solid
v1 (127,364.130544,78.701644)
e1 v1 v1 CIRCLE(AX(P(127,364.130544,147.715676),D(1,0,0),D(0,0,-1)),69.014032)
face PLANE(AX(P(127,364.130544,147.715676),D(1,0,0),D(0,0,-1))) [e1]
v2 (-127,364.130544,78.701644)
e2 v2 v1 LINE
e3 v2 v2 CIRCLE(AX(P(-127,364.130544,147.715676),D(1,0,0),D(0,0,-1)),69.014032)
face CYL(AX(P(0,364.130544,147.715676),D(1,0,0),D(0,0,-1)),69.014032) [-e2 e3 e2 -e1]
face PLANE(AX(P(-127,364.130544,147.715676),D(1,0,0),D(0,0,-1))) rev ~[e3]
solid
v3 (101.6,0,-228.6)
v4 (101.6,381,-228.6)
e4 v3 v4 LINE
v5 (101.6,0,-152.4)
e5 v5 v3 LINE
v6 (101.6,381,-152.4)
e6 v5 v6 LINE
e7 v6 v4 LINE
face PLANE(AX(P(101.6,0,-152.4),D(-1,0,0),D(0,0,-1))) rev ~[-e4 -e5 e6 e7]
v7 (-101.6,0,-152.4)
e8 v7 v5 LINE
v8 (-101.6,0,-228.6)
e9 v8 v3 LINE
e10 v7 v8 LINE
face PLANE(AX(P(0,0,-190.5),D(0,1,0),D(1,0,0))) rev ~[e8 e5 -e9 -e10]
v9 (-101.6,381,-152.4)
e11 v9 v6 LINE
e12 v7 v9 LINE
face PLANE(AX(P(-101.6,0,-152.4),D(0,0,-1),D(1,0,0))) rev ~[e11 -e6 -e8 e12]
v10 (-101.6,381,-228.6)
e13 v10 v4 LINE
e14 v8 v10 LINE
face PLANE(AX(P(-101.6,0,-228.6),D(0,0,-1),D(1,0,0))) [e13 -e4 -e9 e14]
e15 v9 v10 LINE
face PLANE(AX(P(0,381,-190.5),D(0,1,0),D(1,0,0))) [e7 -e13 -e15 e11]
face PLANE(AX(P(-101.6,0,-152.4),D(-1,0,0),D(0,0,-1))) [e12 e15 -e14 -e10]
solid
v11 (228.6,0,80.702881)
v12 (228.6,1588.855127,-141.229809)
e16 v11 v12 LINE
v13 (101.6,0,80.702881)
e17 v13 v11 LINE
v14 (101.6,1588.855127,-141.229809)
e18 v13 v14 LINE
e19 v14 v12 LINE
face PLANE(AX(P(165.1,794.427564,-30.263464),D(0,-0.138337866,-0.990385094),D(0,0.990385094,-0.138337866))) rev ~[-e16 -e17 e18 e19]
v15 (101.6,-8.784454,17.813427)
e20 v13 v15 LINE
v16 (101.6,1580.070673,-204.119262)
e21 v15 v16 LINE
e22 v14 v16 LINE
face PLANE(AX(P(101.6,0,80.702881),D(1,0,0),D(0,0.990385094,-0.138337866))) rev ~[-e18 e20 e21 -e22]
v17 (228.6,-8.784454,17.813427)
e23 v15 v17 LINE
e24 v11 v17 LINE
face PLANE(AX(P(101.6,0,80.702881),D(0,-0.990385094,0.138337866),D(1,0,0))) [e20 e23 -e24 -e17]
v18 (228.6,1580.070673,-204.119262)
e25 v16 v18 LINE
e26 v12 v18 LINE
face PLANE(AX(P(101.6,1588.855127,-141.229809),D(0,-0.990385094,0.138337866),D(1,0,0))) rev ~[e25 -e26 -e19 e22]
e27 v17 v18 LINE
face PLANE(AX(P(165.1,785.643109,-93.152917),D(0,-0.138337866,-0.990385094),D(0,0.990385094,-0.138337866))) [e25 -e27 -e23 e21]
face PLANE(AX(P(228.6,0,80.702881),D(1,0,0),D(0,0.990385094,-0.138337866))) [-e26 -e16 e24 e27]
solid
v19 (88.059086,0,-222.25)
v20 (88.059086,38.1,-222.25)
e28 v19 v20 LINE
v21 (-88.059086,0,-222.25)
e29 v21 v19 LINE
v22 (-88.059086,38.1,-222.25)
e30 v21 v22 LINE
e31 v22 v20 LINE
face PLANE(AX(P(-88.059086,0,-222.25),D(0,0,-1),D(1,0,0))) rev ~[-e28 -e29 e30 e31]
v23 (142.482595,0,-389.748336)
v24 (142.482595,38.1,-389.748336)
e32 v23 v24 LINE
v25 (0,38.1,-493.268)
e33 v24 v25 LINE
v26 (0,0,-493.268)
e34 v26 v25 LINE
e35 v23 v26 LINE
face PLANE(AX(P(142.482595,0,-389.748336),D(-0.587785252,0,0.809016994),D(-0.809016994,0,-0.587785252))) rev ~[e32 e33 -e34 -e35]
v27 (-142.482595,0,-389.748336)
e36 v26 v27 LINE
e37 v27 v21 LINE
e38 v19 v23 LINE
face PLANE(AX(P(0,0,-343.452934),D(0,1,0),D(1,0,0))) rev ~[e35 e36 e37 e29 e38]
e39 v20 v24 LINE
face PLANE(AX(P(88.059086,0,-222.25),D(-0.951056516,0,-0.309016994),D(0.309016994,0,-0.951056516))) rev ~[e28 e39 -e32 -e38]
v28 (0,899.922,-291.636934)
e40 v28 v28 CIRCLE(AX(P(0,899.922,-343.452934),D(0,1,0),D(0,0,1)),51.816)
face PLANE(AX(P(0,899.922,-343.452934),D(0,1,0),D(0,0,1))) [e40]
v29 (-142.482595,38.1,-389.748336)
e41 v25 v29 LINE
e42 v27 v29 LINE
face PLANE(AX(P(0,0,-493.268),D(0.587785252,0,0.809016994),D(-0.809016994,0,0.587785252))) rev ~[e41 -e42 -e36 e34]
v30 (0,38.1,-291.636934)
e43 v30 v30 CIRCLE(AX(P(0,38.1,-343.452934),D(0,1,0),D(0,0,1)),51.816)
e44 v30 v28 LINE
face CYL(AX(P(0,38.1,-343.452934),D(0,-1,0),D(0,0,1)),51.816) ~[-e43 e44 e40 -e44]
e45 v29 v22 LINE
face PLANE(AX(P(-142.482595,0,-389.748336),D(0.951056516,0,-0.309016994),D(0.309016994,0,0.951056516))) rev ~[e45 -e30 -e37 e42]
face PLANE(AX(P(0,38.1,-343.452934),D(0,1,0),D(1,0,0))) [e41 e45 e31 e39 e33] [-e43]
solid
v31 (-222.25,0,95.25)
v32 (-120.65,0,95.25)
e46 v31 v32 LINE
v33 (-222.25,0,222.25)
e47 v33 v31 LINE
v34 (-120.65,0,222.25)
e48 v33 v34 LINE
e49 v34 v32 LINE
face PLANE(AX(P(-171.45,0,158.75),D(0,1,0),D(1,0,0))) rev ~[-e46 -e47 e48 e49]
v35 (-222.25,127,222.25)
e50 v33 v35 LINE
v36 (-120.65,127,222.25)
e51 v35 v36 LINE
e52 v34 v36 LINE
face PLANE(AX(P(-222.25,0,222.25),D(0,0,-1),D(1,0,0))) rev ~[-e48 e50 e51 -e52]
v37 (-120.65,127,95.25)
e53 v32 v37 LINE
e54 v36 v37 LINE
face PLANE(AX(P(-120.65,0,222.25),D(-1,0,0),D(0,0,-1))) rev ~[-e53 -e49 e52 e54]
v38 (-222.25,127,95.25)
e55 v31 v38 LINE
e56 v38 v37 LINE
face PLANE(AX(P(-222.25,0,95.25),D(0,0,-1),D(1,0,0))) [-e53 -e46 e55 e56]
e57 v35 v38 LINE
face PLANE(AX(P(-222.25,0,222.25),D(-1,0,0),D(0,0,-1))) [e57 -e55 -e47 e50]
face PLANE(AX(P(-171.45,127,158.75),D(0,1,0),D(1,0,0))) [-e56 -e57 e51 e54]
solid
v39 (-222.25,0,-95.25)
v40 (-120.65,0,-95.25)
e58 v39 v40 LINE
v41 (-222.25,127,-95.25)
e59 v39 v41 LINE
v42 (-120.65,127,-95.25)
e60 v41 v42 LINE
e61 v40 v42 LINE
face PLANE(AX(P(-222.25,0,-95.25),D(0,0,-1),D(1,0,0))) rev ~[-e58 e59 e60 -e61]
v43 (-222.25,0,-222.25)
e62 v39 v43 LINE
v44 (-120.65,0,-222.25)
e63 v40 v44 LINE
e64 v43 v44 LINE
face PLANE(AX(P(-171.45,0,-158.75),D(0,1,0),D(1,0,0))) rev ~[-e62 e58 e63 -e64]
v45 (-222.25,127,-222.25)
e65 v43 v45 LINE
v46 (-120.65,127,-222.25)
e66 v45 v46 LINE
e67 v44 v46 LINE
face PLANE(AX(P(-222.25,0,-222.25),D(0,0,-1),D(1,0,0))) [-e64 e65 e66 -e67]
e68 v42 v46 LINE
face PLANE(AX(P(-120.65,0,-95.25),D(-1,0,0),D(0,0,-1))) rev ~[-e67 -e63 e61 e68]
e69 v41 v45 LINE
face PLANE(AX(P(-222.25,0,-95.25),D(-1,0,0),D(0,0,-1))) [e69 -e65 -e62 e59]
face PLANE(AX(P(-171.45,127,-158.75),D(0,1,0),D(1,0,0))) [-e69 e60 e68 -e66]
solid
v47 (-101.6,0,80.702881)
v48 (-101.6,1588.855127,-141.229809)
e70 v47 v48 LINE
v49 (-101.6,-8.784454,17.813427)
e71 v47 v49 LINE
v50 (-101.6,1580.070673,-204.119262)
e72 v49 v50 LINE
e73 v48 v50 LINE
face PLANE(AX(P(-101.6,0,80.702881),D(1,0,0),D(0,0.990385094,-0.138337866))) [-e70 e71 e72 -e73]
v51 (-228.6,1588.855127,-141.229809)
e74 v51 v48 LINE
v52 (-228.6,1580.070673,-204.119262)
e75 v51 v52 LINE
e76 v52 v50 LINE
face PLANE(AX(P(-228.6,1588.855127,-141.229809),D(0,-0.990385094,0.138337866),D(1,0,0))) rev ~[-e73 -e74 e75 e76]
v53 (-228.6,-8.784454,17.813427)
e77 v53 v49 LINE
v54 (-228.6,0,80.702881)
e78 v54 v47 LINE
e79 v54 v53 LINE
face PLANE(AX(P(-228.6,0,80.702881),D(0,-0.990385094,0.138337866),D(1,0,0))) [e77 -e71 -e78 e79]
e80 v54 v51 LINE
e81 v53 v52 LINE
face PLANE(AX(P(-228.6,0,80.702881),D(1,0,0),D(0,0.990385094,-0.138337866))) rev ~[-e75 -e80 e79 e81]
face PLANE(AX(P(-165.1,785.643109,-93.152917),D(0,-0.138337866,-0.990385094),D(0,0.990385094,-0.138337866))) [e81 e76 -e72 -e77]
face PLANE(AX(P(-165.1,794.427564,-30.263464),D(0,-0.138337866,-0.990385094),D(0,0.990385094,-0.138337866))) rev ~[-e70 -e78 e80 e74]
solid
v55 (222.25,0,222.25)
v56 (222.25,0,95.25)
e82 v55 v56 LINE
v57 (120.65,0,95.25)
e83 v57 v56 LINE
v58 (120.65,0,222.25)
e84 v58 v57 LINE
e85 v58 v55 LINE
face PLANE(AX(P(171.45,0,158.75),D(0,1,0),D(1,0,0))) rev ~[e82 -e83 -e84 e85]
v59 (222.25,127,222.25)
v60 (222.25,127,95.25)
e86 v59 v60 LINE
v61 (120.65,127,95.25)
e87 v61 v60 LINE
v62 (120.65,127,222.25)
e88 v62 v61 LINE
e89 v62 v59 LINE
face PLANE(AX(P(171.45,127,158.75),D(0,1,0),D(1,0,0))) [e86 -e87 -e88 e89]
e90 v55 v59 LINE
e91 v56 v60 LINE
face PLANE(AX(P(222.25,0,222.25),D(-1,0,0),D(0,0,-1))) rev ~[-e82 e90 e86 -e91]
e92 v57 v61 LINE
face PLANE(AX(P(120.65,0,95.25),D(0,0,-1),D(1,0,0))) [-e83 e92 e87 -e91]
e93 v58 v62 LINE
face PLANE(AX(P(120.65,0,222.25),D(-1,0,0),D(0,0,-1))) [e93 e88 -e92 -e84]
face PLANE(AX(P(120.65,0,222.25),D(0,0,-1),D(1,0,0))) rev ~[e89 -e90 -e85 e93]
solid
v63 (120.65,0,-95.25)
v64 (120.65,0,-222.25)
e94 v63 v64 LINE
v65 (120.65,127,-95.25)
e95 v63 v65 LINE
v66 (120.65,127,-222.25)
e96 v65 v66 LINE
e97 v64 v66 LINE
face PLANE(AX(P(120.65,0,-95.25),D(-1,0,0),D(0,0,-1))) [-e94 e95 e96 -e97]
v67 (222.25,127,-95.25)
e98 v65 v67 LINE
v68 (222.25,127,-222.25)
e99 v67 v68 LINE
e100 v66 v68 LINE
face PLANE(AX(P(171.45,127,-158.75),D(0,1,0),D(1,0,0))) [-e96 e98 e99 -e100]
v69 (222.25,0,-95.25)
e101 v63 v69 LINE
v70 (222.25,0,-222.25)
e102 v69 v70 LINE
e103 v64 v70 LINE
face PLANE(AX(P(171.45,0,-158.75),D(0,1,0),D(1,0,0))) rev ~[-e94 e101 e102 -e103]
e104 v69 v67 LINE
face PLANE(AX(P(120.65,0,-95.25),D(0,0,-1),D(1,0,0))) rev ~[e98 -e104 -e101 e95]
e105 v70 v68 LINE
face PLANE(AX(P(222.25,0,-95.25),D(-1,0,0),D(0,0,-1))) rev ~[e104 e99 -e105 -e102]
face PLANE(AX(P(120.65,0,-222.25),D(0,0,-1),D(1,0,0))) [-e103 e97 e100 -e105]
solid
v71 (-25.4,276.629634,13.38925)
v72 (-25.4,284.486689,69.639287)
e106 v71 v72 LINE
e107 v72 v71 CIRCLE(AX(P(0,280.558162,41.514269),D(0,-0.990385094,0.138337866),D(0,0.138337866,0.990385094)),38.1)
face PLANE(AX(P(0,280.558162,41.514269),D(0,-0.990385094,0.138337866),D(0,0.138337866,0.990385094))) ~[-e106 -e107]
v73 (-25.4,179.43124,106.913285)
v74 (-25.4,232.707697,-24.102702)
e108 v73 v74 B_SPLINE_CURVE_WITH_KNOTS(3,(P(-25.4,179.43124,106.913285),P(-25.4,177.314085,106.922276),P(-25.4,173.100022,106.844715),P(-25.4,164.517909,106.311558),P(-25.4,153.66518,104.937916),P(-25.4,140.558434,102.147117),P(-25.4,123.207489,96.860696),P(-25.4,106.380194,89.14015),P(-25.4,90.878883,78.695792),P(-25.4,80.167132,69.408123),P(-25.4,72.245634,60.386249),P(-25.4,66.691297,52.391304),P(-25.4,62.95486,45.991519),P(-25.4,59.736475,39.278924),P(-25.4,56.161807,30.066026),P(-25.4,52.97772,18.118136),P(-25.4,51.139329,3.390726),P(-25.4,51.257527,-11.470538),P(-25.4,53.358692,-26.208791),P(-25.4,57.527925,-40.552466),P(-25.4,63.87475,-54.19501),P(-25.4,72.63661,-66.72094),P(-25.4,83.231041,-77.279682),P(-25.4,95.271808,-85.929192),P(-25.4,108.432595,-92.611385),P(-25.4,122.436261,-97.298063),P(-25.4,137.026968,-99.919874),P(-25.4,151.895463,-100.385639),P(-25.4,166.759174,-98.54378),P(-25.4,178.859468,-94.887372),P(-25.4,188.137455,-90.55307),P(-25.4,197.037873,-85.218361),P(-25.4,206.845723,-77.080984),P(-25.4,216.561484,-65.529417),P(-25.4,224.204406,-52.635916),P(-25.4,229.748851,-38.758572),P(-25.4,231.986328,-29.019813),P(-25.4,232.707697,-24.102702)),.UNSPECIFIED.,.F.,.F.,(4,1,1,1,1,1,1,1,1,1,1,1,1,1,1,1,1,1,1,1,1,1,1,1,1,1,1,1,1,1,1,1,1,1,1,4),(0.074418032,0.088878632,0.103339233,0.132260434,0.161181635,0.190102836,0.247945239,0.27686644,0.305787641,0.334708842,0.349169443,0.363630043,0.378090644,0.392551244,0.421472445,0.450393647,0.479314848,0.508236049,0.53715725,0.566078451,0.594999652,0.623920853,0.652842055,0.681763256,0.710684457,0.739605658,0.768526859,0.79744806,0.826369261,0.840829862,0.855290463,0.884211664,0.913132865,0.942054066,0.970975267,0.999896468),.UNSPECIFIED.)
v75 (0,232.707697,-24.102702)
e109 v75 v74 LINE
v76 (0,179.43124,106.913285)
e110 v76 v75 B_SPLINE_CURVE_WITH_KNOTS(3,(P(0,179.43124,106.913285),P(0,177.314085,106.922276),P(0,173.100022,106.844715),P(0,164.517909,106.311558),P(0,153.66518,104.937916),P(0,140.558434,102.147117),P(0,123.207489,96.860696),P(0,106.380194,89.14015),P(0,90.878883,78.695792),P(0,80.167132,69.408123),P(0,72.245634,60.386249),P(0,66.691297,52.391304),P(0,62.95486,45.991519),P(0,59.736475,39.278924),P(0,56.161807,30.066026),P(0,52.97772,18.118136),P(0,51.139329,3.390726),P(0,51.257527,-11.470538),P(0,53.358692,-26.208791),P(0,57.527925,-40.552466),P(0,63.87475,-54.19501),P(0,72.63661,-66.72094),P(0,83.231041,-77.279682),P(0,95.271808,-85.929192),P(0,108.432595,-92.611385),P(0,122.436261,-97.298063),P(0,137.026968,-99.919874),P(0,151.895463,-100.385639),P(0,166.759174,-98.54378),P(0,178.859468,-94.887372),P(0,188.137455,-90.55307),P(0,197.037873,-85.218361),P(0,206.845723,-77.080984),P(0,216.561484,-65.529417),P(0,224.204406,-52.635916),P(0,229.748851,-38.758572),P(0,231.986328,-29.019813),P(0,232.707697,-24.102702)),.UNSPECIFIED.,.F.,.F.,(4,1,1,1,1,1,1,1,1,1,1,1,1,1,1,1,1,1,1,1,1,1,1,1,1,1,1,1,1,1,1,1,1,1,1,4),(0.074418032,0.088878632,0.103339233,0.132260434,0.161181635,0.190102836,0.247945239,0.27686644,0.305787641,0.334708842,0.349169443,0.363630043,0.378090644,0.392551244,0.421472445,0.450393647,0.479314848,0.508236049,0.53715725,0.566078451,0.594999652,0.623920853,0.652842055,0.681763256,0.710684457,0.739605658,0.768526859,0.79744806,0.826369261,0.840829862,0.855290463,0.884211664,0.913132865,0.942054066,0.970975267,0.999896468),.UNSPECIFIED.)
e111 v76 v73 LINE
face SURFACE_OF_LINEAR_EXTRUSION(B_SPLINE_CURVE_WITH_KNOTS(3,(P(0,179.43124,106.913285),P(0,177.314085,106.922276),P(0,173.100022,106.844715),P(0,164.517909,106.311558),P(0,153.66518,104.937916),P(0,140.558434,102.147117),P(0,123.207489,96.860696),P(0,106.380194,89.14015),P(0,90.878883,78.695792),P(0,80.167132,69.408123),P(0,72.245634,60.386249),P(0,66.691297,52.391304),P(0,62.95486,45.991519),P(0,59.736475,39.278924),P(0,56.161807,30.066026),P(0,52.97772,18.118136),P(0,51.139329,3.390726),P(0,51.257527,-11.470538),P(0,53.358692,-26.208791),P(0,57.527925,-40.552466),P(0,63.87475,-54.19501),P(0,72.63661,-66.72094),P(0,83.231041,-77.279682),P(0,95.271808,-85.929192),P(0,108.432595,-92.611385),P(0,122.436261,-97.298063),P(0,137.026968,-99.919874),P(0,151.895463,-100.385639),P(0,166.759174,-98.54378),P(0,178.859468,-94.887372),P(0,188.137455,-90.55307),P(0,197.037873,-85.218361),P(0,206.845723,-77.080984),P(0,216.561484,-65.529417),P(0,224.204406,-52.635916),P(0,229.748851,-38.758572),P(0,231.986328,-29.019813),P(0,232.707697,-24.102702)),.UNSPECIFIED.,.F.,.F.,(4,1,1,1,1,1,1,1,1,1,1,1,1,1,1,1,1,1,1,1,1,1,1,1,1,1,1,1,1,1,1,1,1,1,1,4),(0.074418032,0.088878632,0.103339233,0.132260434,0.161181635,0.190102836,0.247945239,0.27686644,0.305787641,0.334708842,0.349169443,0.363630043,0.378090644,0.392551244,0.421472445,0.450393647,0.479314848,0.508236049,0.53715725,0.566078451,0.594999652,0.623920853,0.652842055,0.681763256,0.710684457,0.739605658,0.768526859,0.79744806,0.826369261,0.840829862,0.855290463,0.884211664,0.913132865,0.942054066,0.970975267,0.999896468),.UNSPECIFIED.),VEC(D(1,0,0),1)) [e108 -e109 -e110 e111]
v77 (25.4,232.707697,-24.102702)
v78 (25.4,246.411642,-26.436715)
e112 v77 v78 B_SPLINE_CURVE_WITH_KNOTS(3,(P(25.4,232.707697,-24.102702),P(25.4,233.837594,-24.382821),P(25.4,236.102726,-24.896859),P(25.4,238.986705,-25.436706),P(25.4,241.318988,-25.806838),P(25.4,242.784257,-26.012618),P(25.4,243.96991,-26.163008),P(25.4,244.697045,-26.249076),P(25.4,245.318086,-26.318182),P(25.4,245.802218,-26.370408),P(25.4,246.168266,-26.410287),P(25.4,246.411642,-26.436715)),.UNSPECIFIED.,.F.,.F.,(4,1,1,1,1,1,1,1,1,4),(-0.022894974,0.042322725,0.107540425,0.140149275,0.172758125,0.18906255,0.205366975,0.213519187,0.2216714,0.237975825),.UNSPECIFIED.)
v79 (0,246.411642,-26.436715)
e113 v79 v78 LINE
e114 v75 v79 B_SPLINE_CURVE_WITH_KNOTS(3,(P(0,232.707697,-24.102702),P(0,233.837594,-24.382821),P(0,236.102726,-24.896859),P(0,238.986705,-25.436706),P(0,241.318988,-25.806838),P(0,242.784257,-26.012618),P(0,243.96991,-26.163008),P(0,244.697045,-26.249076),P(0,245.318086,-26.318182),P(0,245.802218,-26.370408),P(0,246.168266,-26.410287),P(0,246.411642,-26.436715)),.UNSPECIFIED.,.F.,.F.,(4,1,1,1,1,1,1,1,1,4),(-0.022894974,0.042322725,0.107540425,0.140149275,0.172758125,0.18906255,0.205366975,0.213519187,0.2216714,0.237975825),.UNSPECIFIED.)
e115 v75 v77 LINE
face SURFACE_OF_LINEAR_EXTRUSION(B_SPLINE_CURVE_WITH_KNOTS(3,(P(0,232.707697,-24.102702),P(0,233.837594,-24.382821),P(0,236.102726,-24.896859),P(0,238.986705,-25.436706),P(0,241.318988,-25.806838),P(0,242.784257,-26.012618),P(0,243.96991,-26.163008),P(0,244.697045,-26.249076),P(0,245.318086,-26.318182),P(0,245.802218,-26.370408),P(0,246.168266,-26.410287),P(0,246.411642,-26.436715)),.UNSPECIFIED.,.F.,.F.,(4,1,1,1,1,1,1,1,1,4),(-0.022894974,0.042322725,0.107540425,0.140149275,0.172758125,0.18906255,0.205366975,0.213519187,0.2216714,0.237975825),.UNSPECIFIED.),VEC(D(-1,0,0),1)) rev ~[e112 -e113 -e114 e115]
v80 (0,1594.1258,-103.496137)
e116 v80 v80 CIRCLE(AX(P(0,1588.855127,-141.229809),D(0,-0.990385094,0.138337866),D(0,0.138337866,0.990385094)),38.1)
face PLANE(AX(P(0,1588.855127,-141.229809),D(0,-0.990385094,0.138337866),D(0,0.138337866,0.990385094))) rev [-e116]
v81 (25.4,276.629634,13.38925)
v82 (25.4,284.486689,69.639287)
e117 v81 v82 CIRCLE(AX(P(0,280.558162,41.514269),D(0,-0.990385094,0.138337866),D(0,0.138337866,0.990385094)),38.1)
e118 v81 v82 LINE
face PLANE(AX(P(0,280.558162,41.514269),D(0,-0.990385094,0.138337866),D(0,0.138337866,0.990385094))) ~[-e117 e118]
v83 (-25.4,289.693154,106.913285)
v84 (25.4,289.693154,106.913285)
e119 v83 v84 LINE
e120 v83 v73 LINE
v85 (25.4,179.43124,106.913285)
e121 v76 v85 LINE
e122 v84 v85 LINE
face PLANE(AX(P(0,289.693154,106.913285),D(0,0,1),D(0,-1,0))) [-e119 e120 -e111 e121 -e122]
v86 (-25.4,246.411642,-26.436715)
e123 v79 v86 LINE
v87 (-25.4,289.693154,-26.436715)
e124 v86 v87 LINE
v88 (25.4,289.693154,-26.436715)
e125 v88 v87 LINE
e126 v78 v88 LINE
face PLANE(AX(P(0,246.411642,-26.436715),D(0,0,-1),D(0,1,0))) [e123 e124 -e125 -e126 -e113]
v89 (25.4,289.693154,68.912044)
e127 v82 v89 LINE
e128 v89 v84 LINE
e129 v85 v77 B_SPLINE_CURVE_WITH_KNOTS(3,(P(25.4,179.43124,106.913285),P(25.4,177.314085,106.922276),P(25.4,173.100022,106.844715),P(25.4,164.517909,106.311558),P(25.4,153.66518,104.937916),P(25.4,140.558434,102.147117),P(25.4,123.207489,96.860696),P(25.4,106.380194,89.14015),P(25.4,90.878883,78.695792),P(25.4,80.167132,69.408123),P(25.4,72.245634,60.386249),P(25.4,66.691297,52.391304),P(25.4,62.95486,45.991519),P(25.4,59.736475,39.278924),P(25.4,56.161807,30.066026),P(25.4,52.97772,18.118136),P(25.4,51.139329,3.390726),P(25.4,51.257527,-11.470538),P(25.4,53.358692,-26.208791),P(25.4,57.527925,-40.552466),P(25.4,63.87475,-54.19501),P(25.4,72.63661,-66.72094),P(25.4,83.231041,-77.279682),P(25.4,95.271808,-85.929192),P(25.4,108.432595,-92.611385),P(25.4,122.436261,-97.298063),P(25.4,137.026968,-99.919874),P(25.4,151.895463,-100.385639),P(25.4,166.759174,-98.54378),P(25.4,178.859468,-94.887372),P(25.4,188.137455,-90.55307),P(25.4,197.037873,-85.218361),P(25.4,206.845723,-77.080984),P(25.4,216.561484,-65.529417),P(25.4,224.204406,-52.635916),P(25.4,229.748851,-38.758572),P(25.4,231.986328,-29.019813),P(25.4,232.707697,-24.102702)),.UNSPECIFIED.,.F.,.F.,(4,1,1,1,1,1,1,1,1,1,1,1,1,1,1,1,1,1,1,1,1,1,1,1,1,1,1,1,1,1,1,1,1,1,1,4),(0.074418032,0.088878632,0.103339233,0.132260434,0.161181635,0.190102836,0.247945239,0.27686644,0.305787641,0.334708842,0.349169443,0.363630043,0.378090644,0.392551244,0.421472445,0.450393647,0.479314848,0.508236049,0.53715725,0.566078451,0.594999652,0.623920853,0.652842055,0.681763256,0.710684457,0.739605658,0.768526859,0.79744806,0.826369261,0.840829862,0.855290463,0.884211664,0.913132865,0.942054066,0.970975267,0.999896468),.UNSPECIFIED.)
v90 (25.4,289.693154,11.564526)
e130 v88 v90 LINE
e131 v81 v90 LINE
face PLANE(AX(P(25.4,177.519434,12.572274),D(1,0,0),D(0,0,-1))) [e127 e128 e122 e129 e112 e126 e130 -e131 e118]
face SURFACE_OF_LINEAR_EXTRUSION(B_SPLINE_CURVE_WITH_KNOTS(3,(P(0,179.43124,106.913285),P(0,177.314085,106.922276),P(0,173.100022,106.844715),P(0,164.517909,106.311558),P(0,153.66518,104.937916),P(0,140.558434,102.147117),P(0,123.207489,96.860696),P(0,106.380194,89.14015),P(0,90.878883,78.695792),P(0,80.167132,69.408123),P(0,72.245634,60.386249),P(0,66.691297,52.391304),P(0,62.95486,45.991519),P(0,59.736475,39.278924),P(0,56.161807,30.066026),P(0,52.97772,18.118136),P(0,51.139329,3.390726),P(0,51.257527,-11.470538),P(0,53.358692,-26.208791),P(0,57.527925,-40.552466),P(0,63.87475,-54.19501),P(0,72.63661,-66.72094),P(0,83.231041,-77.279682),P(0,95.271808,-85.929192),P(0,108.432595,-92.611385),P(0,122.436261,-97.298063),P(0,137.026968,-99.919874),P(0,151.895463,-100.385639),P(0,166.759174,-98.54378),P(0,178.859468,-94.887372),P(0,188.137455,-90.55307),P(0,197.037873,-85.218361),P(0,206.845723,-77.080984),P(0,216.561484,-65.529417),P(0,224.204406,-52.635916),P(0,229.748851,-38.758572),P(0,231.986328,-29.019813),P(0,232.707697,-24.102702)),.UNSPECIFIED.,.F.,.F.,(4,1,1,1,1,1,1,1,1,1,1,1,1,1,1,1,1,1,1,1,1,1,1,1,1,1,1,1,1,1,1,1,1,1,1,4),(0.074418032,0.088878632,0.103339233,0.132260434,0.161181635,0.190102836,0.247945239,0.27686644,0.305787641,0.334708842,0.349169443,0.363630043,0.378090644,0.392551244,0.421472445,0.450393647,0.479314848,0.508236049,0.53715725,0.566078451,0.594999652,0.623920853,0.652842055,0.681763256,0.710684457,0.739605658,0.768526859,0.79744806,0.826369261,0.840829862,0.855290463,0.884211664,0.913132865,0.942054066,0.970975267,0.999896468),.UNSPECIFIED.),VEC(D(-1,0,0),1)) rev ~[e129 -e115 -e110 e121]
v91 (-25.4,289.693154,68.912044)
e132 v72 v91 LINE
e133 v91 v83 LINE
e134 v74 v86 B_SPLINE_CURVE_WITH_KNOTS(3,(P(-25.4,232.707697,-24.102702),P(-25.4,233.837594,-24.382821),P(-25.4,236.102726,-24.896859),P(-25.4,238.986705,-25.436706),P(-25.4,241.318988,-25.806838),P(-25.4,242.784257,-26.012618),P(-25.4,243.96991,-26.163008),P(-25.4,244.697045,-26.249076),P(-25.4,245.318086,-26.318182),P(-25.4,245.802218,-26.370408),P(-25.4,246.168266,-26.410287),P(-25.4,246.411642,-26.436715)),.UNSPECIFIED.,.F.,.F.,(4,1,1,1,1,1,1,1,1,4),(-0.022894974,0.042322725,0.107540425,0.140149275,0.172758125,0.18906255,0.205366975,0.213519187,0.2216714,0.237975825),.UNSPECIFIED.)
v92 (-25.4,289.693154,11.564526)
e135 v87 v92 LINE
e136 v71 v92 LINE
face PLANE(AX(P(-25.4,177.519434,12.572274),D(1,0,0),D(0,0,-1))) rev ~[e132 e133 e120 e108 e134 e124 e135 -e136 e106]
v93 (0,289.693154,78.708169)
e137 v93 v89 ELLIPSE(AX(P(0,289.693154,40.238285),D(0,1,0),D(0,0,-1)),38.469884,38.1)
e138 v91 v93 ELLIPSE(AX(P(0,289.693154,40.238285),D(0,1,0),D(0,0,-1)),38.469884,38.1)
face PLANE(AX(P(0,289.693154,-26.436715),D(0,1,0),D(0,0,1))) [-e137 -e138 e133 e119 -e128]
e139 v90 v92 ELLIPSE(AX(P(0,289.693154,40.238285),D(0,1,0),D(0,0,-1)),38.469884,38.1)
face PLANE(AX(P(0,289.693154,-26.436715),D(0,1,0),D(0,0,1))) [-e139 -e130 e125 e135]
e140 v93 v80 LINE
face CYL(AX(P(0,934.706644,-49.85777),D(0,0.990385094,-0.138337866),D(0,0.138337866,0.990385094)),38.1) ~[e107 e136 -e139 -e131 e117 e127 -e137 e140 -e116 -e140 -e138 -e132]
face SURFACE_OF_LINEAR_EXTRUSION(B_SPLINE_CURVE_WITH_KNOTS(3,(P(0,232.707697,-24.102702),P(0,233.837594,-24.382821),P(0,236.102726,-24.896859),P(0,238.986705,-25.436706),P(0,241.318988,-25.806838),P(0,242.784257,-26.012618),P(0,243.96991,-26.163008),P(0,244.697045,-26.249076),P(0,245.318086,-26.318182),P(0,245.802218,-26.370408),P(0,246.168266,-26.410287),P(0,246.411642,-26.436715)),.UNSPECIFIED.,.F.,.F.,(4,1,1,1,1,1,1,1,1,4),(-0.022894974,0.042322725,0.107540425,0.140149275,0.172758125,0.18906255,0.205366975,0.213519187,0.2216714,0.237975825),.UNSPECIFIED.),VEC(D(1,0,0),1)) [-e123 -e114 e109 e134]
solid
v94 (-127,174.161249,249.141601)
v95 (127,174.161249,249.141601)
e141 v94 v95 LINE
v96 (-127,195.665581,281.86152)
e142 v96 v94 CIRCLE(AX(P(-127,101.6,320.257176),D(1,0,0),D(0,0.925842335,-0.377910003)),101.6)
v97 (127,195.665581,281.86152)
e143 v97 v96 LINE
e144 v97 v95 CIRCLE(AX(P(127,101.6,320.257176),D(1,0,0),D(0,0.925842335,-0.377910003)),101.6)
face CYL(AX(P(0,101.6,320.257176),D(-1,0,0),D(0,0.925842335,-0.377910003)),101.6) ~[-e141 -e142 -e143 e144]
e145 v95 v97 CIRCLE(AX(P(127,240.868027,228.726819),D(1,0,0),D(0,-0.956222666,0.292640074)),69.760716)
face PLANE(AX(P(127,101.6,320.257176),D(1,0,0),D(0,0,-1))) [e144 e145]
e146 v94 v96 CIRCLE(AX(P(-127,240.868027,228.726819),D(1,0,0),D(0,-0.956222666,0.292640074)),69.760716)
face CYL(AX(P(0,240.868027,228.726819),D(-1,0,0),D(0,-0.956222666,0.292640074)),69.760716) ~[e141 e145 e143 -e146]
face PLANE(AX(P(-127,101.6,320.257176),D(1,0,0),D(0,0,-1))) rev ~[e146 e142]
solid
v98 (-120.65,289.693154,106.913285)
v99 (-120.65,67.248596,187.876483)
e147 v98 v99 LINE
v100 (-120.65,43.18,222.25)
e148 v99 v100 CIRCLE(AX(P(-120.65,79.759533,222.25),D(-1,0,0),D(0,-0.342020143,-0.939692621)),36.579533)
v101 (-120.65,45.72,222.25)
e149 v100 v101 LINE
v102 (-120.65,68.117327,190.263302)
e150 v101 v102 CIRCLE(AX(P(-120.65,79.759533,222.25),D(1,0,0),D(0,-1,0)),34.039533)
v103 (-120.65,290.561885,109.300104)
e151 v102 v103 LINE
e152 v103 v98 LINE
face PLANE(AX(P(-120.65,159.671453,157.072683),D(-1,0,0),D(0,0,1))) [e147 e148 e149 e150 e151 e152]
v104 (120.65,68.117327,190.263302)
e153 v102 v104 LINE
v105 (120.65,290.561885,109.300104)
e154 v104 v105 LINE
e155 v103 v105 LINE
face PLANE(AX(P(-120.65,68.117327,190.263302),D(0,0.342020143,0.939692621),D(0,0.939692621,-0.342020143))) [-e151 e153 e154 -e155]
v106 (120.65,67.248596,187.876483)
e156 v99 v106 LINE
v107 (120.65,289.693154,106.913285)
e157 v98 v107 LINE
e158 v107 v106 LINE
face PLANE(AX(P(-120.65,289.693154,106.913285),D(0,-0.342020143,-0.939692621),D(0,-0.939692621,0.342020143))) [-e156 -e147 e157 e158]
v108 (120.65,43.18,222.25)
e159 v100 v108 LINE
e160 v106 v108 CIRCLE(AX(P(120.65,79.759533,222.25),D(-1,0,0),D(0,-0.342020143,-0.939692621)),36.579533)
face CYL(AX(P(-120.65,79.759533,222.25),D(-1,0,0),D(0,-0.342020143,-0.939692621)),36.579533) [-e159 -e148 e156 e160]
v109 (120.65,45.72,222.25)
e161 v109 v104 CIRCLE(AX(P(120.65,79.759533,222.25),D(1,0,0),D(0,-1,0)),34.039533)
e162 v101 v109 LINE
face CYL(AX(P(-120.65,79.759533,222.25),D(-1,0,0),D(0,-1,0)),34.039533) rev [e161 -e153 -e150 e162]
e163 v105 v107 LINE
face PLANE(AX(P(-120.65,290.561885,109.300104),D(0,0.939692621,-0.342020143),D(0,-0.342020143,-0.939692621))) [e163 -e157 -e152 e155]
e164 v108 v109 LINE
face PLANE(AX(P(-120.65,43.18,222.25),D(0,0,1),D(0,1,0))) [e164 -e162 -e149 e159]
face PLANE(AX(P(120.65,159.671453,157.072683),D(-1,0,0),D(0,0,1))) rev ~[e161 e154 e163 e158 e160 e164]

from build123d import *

# Parameters (mm, degrees)
SKETCH1_W           = 101.6
SKETCH1_H           = 127
DRIVETRAIN_DEPTH    = 127
DRIVETRAIN_2_DEPTH  = 127
DRIVETRAIN_3_DEPTH  = 127
DRIVETRAIN_4_DEPTH  = 127
BOSS_EXTRUDE2_DEPTH = 38.1
SKETCH4_R           = 51.816
BOSS_EXTRUDE3_DEPTH = 861.822
BOSS_EXTRUDE4_DEPTH = 25.4
SKETCH7_W           = 1320.998239158
SKETCH7_H           = 38.1
BOSS_EXTRUDE5_DEPTH = 241.3
SKETCH12_R          = 101.6
SKETCH12_R_2        = 69.760716059
SKETCH12_R_3        = 69.014032316
BOSS_EXTRUDE8_DEPTH = 127
SKETCH9_W           = 1604.28012948
SKETCH9_H           = 127
LIFT_DEPTH          = 63.5
LIFT_2_DEPTH        = 63.5
SKETCH10_W          = 203.2
SKETCH10_H          = 76.2
GOAL_LIFT_DEPTH     = 381


with BuildPart() as part:
    # Sketch1 → Drivetrain (new body)
    with BuildSketch(Plane(origin=(0, 0, 0), x_dir=(1, 0, 0), z_dir=(0, 1, 0))):
        with Locations((-171.45, -158.75)):
            Rectangle(SKETCH1_W, SKETCH1_H)
    extrude(amount=DRIVETRAIN_DEPTH)


with BuildPart() as body_2:
    # Sketch1 → Drivetrain 2 (new body)
    with BuildSketch(Plane(origin=(0, 0, 0), x_dir=(1, 0, 0), z_dir=(0, 1, 0))):
        with Locations((171.45, -158.75)):
            Rectangle(SKETCH1_W, SKETCH1_H)
    extrude(amount=DRIVETRAIN_2_DEPTH)


with BuildPart() as body_3:
    # Sketch1 → Drivetrain 3 (new body)
    with BuildSketch(Plane(origin=(0, 0, 0), x_dir=(1, 0, 0), z_dir=(0, 1, 0))):
        with Locations((171.45, 158.75)):
            Rectangle(SKETCH1_W, SKETCH1_H)
    extrude(amount=DRIVETRAIN_3_DEPTH)


with BuildPart() as body_4:
    # Sketch1 → Drivetrain 4 (new body)
    with BuildSketch(Plane(origin=(0, 0, 0), x_dir=(1, 0, 0), z_dir=(0, 1, 0))):
        with Locations((-171.45, 158.75)):
            Rectangle(SKETCH1_W, SKETCH1_H)
    extrude(amount=DRIVETRAIN_4_DEPTH)


with BuildPart() as body_5:
    # Sketch3 → Boss-Extrude2 (new body)
    with BuildSketch(Plane(origin=(0, 0, 0), x_dir=(1, 0, 0), z_dir=(0, 1, 0))):
        Polygon((-88.059086234, 222.25), (88.059086234, 222.25), (142.482594544, 389.748335563), (0, 493.268), (-142.482594544, 389.748335563), align=None)
    extrude(amount=BOSS_EXTRUDE2_DEPTH)

    # Sketch4 → Boss-Extrude3 (add)
    with BuildSketch(Plane(origin=(0, 38.1, 0), x_dir=(1, 0, 0), z_dir=(0, 1, 0))):
        with Locations(Location((0, 343.452934225, 0), (0, 0, 270))):
            Circle(SKETCH4_R)
    extrude(amount=BOSS_EXTRUDE3_DEPTH)


with BuildPart() as body_6:
    # Sketch5 → Boss-Extrude4 (new, symmetric)
    with BuildSketch(Plane(origin=(0, 0, 0), x_dir=(0, 0, -1), z_dir=(1, 0, 0))):
        with BuildLine():
            Line((26.436715133, 289.693154062), (-106.913284867, 289.693154062))
            Line((-106.913284867, 289.693154062), (-106.913284867, 179.431240311))
            add(Edge.make_bspline(
                [(-106.913284867, 179.431240311), (-106.922275514, 177.314085183), (-106.844714825, 173.100022171), (-106.31155836, 164.517909306), (-104.937916384, 153.66518019), (-102.147116697, 140.558434457), (-96.860695677, 123.207488958), (-89.140150055, 106.380193996), (-78.695792066, 90.878883106), (-69.408123184, 80.167132386), (-60.386249114, 72.245634114), (-52.39130403, 66.691297247), (-45.99151885, 62.954859956), (-39.278923957, 59.736475089), (-30.06602637, 56.16180659), (-18.118136003, 52.977720447), (-3.39072609, 51.139329122), (11.470537994, 51.257526659), (26.208790933, 53.358691633), (40.552465987, 57.527924547), (54.195009809, 63.874750123), (66.720940218, 72.636610137), (77.279681687, 83.231040861), (85.929191733, 95.271807521), (92.611384836, 108.432594601), (97.298063179, 122.436261075), (99.919873761, 137.026968228), (100.385639212, 151.895462865), (98.543779565, 166.759173971), (94.887371789, 178.859467795), (90.553070433, 188.137455125), (85.218361014, 197.037872982), (77.080983632, 206.845723087), (65.529417153, 216.561483785), (52.63591563, 224.204406044), (38.758572394, 229.748850977), (29.019813004, 231.986328043), (24.102701524, 232.707697092)],
                knots=[0.074418032, 0.074418032, 0.074418032, 0.074418032, 0.088878632, 0.103339233, 0.132260434, 0.161181635, 0.190102836, 0.247945239, 0.27686644, 0.305787641, 0.334708842, 0.349169443, 0.363630043, 0.378090644, 0.392551244, 0.421472445, 0.450393647, 0.479314848, 0.508236049, 0.53715725, 0.566078451, 0.594999652, 0.623920853, 0.652842055, 0.681763256, 0.710684457, 0.739605658, 0.768526859, 0.79744806, 0.826369261, 0.840829862, 0.855290463, 0.884211664, 0.913132865, 0.942054066, 0.970975267, 0.999896468, 0.999896468, 0.999896468, 0.999896468], degree=3))
            add(Edge.make_bspline(
                [(24.102701524, 232.707697092), (24.382820632, 233.837593719), (24.896858704, 236.10272623), (25.436705696, 238.986704891), (25.806838001, 241.318987531), (26.012617854, 242.784257474), (26.163008004, 243.969909968), (26.249075931, 244.697044834), (26.318182296, 245.318086319), (26.370408001, 245.802218308), (26.410286896, 246.168265776), (26.436715133, 246.411642205)],
                knots=[-0.022894974, -0.022894974, -0.022894974, -0.022894974, 0.042322725, 0.107540425, 0.140149275, 0.172758125, 0.18906255, 0.205366975, 0.213519187, 0.2216714, 0.237975825, 0.237975825, 0.237975825, 0.237975825], degree=3))
            Line((26.436715133, 246.411642205), (26.436715133, 289.693154062))
        make_face()
    extrude(amount=BOSS_EXTRUDE4_DEPTH, both=True)

    # Sketch7 → Revolve1 (revolve)
    with BuildSketch(Plane(origin=(0, 11.056920966, 79.158440361), x_dir=(0, 0.9903850942141906, -0.13833786595993453), z_dir=(0, -0.13833786595993453, -0.9903850942141906)), mode=Mode.PRIVATE) as revolve1_sk:
        with Locations((932.616745586, 19.05)):
            Rectangle(SKETCH7_W, SKETCH7_H)
    revolve(revolve1_sk.sketch.rotate(Axis((0, 1588.855127182, -141.229808653), (0, -0.9903850942141906, 0.1383378659599345)), 90), axis=Axis((0, 1588.855127182, -141.229808653), (0, -0.9903850942141906, 0.1383378659599345)))


with BuildPart() as body_7:
    # Sketch8 → Boss-Extrude5 (new body)
    with BuildSketch(Plane(origin=(-120.65, 0, 0), x_dir=(0, 0, -1), z_dir=(1, 0, 0))):
        with BuildLine():
            Line((-106.913284867, 289.693154062), (-187.876482837, 67.248595832))
            ThreePointArc((-187.876482837, 67.248595832), (-201.26884186, 49.795333751), (-222.25, 43.18))
            Line((-222.25, 43.18), (-222.25, 45.72))
            ThreePointArc((-222.25, 45.72), (-202.725726009, 51.875979943), (-190.263302094, 68.117326996))
            Line((-190.263302094, 68.117326996), (-109.300104124, 290.561885226))
            Line((-109.300104124, 290.561885226), (-106.913284867, 289.693154062))
        make_face()
    extrude(amount=BOSS_EXTRUDE5_DEPTH)


with BuildPart() as body_8:
    # Sketch12 → Boss-Extrude8 (new, symmetric)
    with BuildSketch(Plane(origin=(0, 0, 0), x_dir=(0, 0, -1), z_dir=(1, 0, 0))):
        with Locations((-320.257176019, 101.6)):
            Circle(SKETCH12_R)
        with Locations((-228.726819478, 240.868027394)):
            Circle(SKETCH12_R_2)
        with Locations((-147.71567639, 364.130544019)):
            Circle(SKETCH12_R_3)
    extrude(amount=BOSS_EXTRUDE8_DEPTH, both=True)


with BuildPart() as body_9:
    # Sketch9 → Lift (new body)
    with BuildSketch(Plane(origin=(0, 11.056920966, 79.158440361), x_dir=(0, 0.9903850942141906, -0.13833786595993453), z_dir=(0, -0.13833786595993453, -0.9903850942141906))):
        with Locations((790.975800425, 165.1)):
            Rectangle(SKETCH9_W, SKETCH9_H)
    extrude(amount=LIFT_DEPTH)


with BuildPart() as body_10:
    # Sketch9 → Lift 2 (new body)
    with BuildSketch(Plane(origin=(0, 11.056920966, 79.158440361), x_dir=(0, 0.9903850942141906, -0.13833786595993453), z_dir=(0, -0.13833786595993453, -0.9903850942141906))):
        with Locations((790.975800425, -165.1)):
            Rectangle(SKETCH9_W, SKETCH9_H)
    extrude(amount=LIFT_2_DEPTH)


with BuildPart() as body_11:
    # Sketch10 → Goal Lift (new body)
    with BuildSketch(Plane(origin=(0, 0, 0), x_dir=(1, 0, 0), z_dir=(0, 1, 0))):
        with Locations((0, 190.5)):
            Rectangle(SKETCH10_W, SKETCH10_H)
    extrude(amount=GOAL_LIFT_DEPTH)


solid = Compound([part.part, body_2.part, body_3.part, body_4.part, body_5.part, body_6.part, body_7.part, body_8.part, body_9.part, body_10.part, body_11.part])
